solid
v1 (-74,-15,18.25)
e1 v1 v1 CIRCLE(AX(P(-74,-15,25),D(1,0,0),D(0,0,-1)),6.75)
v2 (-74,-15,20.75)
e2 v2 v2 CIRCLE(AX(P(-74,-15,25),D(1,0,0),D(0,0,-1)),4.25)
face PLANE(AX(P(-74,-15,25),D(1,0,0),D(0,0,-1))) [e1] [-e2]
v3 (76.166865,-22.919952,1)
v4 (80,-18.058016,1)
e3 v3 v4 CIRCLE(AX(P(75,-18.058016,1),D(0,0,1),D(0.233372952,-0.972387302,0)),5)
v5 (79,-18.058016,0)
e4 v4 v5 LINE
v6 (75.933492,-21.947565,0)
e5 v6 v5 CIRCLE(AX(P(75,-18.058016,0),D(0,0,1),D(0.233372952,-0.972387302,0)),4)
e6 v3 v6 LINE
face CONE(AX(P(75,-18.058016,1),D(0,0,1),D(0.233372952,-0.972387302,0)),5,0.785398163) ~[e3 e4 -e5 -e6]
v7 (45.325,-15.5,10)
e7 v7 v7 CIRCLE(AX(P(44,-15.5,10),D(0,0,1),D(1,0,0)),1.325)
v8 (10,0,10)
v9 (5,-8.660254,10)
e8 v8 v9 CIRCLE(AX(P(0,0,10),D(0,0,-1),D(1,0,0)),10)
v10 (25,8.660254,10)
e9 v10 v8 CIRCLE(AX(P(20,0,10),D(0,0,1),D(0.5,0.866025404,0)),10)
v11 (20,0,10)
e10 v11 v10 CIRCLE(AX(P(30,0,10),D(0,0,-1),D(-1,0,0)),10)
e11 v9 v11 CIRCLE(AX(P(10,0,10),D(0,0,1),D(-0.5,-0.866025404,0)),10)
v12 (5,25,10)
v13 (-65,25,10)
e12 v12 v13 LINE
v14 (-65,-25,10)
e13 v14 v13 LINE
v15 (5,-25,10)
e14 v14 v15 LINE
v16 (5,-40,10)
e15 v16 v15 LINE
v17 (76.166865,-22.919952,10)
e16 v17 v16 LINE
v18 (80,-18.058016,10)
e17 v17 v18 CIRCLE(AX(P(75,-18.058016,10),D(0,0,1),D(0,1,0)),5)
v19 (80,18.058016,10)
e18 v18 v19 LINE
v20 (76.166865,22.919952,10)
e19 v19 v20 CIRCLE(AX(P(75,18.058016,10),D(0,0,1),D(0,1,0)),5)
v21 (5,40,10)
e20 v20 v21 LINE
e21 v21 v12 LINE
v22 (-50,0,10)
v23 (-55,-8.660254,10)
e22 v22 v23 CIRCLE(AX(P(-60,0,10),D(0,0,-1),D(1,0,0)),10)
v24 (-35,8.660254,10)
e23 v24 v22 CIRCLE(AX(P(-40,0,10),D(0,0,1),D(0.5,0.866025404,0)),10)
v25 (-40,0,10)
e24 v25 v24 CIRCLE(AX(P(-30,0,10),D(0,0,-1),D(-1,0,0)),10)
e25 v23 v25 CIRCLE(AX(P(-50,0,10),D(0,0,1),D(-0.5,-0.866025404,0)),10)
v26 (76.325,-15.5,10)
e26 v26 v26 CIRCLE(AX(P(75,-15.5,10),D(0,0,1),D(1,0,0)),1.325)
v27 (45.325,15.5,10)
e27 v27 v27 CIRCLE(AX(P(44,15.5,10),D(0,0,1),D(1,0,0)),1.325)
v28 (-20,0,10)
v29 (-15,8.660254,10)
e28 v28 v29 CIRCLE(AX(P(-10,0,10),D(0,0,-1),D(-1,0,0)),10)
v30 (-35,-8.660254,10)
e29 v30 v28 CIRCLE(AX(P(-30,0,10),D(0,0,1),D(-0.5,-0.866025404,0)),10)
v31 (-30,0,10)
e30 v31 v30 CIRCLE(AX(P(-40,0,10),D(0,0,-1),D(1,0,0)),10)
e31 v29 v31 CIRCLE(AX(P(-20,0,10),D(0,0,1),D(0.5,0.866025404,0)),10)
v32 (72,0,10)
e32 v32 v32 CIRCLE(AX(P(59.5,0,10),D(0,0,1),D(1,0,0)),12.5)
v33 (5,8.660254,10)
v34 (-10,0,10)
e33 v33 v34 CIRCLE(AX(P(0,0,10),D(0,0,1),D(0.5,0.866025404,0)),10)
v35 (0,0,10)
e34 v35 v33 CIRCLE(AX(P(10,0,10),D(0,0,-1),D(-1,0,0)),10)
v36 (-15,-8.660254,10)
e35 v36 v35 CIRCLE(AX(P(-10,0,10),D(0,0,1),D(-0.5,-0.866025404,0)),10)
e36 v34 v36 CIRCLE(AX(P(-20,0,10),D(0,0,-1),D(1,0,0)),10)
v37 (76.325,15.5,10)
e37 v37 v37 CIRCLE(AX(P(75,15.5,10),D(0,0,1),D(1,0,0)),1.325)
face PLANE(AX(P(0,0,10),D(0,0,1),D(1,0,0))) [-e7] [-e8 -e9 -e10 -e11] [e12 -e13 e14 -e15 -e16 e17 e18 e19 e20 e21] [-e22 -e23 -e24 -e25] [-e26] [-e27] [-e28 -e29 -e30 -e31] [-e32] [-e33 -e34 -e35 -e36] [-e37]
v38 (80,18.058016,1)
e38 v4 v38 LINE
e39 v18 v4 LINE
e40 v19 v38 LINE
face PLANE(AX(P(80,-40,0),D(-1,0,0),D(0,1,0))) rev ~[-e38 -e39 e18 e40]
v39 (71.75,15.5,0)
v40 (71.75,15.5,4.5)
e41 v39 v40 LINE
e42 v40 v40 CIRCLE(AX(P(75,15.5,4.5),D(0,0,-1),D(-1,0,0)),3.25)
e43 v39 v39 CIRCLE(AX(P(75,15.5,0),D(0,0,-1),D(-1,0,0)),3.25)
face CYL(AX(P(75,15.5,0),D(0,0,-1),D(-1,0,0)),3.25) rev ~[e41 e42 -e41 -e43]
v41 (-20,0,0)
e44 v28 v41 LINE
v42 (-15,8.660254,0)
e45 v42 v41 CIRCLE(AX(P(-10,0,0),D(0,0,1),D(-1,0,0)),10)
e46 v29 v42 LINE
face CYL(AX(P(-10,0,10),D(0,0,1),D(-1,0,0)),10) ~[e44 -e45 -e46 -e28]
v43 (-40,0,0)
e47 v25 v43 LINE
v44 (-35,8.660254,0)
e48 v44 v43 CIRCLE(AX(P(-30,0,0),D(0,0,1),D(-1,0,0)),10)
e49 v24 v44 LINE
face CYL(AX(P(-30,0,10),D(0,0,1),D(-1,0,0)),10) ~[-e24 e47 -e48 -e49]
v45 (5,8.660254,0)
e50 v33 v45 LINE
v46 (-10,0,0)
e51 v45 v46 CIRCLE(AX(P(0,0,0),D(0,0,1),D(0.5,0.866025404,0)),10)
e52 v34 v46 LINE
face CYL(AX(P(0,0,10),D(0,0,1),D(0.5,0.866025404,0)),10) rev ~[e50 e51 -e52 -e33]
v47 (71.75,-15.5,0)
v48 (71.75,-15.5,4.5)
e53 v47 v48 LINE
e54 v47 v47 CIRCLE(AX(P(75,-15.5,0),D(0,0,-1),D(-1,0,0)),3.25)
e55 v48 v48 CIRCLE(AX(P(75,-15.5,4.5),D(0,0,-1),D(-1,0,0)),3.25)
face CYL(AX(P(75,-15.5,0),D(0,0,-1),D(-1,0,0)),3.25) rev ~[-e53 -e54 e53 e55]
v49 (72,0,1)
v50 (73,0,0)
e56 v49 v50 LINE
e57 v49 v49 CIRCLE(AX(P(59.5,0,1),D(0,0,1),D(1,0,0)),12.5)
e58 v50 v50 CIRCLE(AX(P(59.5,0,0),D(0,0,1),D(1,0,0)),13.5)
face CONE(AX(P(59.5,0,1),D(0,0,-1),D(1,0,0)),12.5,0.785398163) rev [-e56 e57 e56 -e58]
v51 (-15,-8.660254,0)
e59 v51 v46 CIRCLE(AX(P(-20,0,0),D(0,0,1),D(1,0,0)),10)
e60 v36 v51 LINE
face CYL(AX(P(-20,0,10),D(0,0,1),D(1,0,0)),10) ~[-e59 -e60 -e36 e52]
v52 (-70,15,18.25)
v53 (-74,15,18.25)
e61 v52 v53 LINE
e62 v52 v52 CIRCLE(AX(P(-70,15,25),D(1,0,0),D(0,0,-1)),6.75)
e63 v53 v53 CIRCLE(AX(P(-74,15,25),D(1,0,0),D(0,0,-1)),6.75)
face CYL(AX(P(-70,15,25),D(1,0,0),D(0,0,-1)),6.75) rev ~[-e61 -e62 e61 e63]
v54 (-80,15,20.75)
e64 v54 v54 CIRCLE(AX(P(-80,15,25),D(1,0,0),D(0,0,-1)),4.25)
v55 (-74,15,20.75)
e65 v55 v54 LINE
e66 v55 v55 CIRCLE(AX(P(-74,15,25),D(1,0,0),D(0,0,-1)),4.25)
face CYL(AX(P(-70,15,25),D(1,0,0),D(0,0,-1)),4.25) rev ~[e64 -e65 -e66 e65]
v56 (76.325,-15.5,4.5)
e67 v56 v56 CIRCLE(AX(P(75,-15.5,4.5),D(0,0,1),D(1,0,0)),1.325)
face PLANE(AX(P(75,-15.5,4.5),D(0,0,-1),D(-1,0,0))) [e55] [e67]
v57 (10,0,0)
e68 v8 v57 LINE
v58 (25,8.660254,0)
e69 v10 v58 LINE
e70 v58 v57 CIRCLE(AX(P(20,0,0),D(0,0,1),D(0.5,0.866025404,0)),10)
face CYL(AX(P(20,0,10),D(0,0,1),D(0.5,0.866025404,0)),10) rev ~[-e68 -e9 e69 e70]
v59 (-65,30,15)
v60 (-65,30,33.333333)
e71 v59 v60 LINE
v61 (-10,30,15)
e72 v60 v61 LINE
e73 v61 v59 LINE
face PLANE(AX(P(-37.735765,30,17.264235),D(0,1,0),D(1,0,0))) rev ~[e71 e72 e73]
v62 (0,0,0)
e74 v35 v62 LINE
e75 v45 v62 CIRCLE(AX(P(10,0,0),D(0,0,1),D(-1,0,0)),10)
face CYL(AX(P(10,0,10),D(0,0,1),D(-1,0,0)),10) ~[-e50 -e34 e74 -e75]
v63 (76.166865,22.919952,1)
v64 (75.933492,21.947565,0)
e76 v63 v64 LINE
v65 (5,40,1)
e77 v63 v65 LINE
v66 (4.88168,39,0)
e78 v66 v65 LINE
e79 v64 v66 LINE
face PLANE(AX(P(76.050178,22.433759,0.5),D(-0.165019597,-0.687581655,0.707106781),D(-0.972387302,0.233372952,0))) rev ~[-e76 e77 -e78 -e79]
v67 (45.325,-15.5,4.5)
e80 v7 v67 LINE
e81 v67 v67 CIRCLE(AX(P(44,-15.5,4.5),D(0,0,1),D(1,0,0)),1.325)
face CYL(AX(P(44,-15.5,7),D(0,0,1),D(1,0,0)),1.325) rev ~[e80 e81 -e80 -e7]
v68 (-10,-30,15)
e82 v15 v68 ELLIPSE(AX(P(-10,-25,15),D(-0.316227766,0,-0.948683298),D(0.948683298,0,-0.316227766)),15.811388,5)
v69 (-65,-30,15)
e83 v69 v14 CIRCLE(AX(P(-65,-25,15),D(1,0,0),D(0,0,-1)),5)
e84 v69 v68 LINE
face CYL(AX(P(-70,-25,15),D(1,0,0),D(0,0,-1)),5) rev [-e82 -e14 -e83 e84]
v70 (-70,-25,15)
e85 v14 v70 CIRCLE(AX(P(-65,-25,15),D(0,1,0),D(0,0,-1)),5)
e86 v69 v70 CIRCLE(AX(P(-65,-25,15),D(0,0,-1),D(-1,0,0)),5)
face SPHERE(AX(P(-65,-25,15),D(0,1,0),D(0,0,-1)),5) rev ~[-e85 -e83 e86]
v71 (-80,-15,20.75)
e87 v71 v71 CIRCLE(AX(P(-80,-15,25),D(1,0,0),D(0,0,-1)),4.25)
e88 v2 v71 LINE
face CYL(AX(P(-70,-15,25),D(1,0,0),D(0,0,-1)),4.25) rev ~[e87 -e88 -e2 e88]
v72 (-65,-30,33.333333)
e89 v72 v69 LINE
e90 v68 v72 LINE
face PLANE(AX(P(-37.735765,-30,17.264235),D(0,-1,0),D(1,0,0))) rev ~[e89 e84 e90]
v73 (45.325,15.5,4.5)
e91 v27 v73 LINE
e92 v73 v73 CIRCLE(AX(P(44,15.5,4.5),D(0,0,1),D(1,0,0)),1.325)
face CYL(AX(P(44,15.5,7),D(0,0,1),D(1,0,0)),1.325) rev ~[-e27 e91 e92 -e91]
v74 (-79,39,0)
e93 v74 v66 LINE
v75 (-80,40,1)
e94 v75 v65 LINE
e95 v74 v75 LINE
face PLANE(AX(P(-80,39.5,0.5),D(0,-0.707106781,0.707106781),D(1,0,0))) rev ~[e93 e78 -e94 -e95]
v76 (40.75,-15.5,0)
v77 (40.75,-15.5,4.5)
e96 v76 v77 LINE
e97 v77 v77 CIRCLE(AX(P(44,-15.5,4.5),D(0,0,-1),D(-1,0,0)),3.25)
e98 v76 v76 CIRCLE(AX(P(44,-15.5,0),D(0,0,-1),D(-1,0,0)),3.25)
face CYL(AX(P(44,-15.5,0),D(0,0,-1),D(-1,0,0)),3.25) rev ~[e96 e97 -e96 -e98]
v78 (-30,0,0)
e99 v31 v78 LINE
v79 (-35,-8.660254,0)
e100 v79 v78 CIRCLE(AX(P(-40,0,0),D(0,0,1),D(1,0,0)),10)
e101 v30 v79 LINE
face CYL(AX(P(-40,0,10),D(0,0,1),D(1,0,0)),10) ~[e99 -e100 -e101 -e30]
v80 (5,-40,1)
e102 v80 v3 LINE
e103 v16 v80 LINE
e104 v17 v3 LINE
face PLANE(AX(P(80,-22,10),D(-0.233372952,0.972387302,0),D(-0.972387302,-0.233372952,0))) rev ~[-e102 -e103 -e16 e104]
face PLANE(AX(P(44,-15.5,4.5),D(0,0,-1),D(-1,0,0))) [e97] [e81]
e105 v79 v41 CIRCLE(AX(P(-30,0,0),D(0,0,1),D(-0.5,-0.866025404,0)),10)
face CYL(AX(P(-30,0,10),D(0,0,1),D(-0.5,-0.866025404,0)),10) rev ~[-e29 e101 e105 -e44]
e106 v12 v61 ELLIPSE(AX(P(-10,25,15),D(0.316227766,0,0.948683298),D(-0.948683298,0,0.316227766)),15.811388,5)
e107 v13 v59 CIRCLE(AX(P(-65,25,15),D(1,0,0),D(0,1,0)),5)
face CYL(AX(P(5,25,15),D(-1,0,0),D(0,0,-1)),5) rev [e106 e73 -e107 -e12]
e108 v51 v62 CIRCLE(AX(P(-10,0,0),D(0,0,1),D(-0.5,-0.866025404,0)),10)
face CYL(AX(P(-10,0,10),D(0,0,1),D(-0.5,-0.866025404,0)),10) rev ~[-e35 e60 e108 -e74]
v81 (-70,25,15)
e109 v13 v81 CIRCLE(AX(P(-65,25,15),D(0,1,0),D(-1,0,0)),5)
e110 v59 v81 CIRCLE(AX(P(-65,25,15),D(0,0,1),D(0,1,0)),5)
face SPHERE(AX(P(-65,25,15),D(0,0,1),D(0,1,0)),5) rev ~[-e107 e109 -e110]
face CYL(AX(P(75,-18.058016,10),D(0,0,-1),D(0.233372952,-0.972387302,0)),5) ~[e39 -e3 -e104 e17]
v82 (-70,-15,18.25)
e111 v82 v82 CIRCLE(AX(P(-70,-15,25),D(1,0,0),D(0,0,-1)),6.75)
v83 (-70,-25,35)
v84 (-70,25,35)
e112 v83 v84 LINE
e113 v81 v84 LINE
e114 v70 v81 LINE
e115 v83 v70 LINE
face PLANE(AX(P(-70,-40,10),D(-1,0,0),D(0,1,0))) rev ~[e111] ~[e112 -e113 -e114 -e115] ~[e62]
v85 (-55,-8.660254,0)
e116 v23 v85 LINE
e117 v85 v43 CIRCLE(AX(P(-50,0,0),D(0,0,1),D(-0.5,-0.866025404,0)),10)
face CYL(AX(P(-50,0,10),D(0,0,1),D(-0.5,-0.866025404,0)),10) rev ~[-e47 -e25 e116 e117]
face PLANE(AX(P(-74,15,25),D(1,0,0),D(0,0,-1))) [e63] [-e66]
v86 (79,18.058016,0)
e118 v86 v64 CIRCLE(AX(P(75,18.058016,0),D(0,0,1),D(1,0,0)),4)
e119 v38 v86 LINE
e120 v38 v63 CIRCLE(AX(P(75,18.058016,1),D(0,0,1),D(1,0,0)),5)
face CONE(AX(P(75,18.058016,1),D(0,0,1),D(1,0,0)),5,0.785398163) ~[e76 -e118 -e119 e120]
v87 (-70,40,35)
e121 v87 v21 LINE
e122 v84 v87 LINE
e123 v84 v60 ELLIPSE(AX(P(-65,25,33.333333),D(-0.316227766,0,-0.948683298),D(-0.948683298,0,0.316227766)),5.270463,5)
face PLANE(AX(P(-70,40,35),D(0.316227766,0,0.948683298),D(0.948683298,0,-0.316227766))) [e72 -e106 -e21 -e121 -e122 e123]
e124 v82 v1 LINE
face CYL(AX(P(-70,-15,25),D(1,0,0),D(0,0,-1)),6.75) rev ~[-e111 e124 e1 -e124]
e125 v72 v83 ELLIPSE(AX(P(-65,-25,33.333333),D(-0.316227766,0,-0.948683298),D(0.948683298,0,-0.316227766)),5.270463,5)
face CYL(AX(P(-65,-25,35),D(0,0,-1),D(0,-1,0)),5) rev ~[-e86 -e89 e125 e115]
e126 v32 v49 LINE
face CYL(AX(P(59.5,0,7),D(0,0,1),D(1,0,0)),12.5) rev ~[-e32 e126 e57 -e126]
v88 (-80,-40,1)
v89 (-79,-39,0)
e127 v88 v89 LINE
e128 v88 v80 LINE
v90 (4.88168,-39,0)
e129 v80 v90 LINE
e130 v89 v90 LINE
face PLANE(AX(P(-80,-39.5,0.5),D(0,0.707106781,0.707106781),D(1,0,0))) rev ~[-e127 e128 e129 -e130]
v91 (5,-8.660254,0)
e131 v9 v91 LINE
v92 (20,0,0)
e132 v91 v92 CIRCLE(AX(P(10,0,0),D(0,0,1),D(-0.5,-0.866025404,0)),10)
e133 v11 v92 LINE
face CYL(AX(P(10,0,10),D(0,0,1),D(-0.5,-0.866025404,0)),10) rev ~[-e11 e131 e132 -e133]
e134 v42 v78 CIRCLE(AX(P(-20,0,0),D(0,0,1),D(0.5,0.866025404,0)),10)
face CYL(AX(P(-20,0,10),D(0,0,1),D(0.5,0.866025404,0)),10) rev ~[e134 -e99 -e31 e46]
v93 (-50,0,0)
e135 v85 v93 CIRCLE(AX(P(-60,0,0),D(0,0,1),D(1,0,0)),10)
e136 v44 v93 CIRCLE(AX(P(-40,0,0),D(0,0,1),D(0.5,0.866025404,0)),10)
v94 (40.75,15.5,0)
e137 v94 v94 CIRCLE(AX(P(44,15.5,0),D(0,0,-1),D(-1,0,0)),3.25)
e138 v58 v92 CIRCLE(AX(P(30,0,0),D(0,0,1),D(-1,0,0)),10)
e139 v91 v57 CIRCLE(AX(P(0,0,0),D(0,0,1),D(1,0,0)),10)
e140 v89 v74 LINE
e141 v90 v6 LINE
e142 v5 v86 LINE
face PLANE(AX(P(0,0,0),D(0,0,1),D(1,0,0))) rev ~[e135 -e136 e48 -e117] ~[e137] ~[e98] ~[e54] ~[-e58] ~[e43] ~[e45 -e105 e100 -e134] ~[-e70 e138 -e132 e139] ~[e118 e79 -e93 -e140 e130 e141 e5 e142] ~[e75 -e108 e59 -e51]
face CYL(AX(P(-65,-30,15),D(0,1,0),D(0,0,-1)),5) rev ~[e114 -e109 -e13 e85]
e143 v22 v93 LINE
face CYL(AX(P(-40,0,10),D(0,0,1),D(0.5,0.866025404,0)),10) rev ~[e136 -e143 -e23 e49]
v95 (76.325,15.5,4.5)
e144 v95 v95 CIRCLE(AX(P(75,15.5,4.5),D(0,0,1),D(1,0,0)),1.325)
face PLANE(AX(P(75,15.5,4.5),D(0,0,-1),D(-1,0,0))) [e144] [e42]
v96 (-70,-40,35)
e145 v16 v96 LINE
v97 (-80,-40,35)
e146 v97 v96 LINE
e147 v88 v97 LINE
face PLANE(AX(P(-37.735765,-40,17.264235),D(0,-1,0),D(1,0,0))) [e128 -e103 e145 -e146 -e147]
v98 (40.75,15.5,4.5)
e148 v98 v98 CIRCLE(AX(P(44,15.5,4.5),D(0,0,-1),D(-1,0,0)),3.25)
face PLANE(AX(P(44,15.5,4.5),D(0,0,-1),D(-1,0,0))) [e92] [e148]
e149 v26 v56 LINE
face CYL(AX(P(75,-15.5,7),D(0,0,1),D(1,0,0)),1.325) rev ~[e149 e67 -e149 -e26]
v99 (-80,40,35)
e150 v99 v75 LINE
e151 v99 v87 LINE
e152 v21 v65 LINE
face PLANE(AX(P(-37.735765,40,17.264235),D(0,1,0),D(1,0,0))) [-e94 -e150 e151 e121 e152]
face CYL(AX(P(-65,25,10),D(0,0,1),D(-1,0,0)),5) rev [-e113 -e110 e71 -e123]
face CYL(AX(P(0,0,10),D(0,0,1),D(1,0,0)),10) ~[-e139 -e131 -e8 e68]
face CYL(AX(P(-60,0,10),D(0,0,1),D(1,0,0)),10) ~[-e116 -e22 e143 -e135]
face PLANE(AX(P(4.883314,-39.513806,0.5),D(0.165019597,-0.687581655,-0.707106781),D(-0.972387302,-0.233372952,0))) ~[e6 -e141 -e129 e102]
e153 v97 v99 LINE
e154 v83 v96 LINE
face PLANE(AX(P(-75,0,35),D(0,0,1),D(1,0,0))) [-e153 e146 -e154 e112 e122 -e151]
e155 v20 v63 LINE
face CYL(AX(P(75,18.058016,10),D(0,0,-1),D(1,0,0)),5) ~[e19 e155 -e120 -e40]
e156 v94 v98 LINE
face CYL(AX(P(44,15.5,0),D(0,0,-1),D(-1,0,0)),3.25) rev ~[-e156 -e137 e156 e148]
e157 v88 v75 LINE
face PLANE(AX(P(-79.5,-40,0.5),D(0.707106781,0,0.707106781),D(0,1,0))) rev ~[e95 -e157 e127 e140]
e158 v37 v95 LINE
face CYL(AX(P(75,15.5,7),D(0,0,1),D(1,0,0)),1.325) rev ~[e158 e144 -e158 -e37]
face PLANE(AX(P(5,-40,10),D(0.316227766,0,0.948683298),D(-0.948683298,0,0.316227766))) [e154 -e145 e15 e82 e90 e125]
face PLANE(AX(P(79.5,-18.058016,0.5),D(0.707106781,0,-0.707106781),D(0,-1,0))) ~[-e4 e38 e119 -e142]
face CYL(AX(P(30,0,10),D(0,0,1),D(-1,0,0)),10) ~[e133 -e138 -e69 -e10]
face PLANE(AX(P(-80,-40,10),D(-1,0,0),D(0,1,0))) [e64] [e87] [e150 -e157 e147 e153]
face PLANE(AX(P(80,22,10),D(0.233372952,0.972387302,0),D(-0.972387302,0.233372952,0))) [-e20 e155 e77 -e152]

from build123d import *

# Parameters (mm, degrees)
SKETCH1_W           = 160
SKETCH1_H           = 80
BOSS_EXTRUDE1_DEPTH = 10
SKETCH2_R           = 1.325
SKETCH2_R_2         = 12.5
CUT_EXTRUDE1_DEPTH  = 3
CUT_EXTRUDE2_REACH  = 9
SKETCH4_R           = 1.325
SKETCH4_R_2         = 12.5
SKETCH7_W           = 10
SKETCH7_H           = 80
BOSS_EXTRUDE3_DEPTH = 25
BOSS_EXTRUDE4_DEPTH = 10
BOSS_EXTRUDE5_DEPTH = 10
CUT_EXTRUDE3_REACH  = 12
CUT_EXTRUDE4_DEPTH  = 10
FILLET1_R           = 5
SKETCH12_R          = 3.25
CUT_EXTRUDE5_DEPTH  = 4.5
CUT_EXTRUDE6_REACH  = 12
SKETCH13_R          = 4.25
SKETCH14_R          = 6.75
CUT_EXTRUDE7_DEPTH  = 4
FILLET2_R           = 5
CHAMFER2_SIZE       = 1


with BuildPart() as part:
    # Sketch1 → Boss-Extrude1 (new body)
    with BuildSketch(Plane.XY):
        Rectangle(SKETCH1_W, SKETCH1_H)
    extrude(amount=BOSS_EXTRUDE1_DEPTH)

    # Sketch2 → Cut-Extrude1 (cut)
    with BuildSketch(Plane.XY.offset(10)):
        with Locations((44, 15.5)):
            Circle(SKETCH2_R)
        with Locations((75, 15.5)):
            Circle(SKETCH2_R)
        with Locations((44, -15.5)):
            Circle(SKETCH2_R)
        with Locations((75, -15.5)):
            Circle(SKETCH2_R)
        with Locations((59.5, 0)):
            Circle(SKETCH2_R_2)
    extrude(amount=-CUT_EXTRUDE1_DEPTH, mode=Mode.SUBTRACT)

    # Sketch4 → Cut-Extrude2 (cut, up to next)
    with BuildSketch(Plane.XY.offset(7), mode=Mode.PRIVATE) as cut_extrude2_sk1:
        with Locations((75, -15.5)):
            Circle(SKETCH4_R)
    cut_extrude2_tool1 = extrude(cut_extrude2_sk1.sketch, amount=-CUT_EXTRUDE2_REACH, mode=Mode.PRIVATE) & part.part
    add(cut_extrude2_tool1.solids().sort_by_distance((75, -15.5, 7))[0], mode=Mode.SUBTRACT)
    # Sketch4 → Cut-Extrude2 (cut, up to next)
    with BuildSketch(Plane.XY.offset(7), mode=Mode.PRIVATE) as cut_extrude2_sk2:
        with Locations((44, -15.5)):
            Circle(SKETCH4_R)
    cut_extrude2_tool2 = extrude(cut_extrude2_sk2.sketch, amount=-CUT_EXTRUDE2_REACH, mode=Mode.PRIVATE) & part.part
    add(cut_extrude2_tool2.solids().sort_by_distance((44, -15.5, 7))[0], mode=Mode.SUBTRACT)
    # Sketch4 → Cut-Extrude2 (cut, up to next)
    with BuildSketch(Plane.XY.offset(7), mode=Mode.PRIVATE) as cut_extrude2_sk3:
        with Locations((75, 15.5)):
            Circle(SKETCH4_R)
    cut_extrude2_tool3 = extrude(cut_extrude2_sk3.sketch, amount=-CUT_EXTRUDE2_REACH, mode=Mode.PRIVATE) & part.part
    add(cut_extrude2_tool3.solids().sort_by_distance((75, 15.5, 7))[0], mode=Mode.SUBTRACT)
    # Sketch4 → Cut-Extrude2 (cut, up to next)
    with BuildSketch(Plane.XY.offset(7), mode=Mode.PRIVATE) as cut_extrude2_sk4:
        with Locations((44, 15.5)):
            Circle(SKETCH4_R)
    cut_extrude2_tool4 = extrude(cut_extrude2_sk4.sketch, amount=-CUT_EXTRUDE2_REACH, mode=Mode.PRIVATE) & part.part
    add(cut_extrude2_tool4.solids().sort_by_distance((44, 15.5, 7))[0], mode=Mode.SUBTRACT)
    # Sketch4 → Cut-Extrude2 (cut, up to next)
    with BuildSketch(Plane.XY.offset(7), mode=Mode.PRIVATE) as cut_extrude2_sk5:
        with Locations((59.5, 0)):
            Circle(SKETCH4_R_2)
    cut_extrude2_tool5 = extrude(cut_extrude2_sk5.sketch, amount=-CUT_EXTRUDE2_REACH, mode=Mode.PRIVATE) & part.part
    add(cut_extrude2_tool5.solids().sort_by_distance((59.5, 0, 7))[0], mode=Mode.SUBTRACT)

    # Sketch7 → Boss-Extrude3 (add)
    with BuildSketch(Plane.XY.offset(10)):
        with Locations((-75, 0)):
            Rectangle(SKETCH7_W, SKETCH7_H)
    extrude(amount=BOSS_EXTRUDE3_DEPTH)

    # Sketch8 → Boss-Extrude4 (add)
    with BuildSketch(Plane(origin=(0, 40, 0), x_dir=(1, 0, 0), z_dir=(0, 1, 0))):
        Polygon((-70, -35), (5, -10), (-70, -10), align=None)
    extrude(amount=-BOSS_EXTRUDE4_DEPTH)

    # Sketch9 → Boss-Extrude5 (add)
    with BuildSketch(Plane.XZ.offset(40)):
        Polygon((-70, 35), (-70, 10), (5, 10), align=None)
    extrude(amount=-BOSS_EXTRUDE5_DEPTH)

    # Sketch10 → Cut-Extrude3 (cut, up to next)
    with BuildSketch(Plane.XY.offset(10), mode=Mode.PRIVATE) as cut_extrude3_sk1:
        with BuildLine():
            ThreePointArc((5, -8.660254038), (15, -8.660254038), (20, 0))
            ThreePointArc((20, 0), (21.339745962, 5), (25, 8.660254038))
            ThreePointArc((25, 8.660254038), (15, 8.660254038), (10, 0))
            ThreePointArc((10, 0), (8.660254038, -5), (5, -8.660254038))
        make_face()
    cut_extrude3_tool1 = extrude(cut_extrude3_sk1.sketch, amount=-CUT_EXTRUDE3_REACH, mode=Mode.PRIVATE) & part.part
    add(cut_extrude3_tool1.solids().sort_by_distance((15, 0, 10))[0], mode=Mode.SUBTRACT)
    # Sketch10 → Cut-Extrude3 (cut, up to next)
    with BuildSketch(Plane.XY.offset(10), mode=Mode.PRIVATE) as cut_extrude3_sk2:
        with BuildLine():
            ThreePointArc((0, 0), (1.339745962, 5), (5, 8.660254038))
            ThreePointArc((5, 8.660254038), (-5, 8.660254038), (-10, 0))
            ThreePointArc((-10, 0), (-11.339745962, -5), (-15, -8.660254038))
            ThreePointArc((-15, -8.660254038), (-5, -8.660254038), (0, 0))
        make_face()
    cut_extrude3_tool2 = extrude(cut_extrude3_sk2.sketch, amount=-CUT_EXTRUDE3_REACH, mode=Mode.PRIVATE) & part.part
    add(cut_extrude3_tool2.solids().sort_by_distance((-5, 0, 10))[0], mode=Mode.SUBTRACT)
    # Sketch10 → Cut-Extrude3 (cut, up to next)
    with BuildSketch(Plane.XY.offset(10), mode=Mode.PRIVATE) as cut_extrude3_sk3:
        with BuildLine():
            ThreePointArc((-20, 0), (-18.660254038, 5), (-15, 8.660254038))
            ThreePointArc((-15, 8.660254038), (-25, 8.660254038), (-30, 0))
            ThreePointArc((-30, 0), (-31.339745962, -5), (-35, -8.660254038))
            ThreePointArc((-35, -8.660254038), (-25, -8.660254038), (-20, 0))
        make_face()
    cut_extrude3_tool3 = extrude(cut_extrude3_sk3.sketch, amount=-CUT_EXTRUDE3_REACH, mode=Mode.PRIVATE) & part.part
    add(cut_extrude3_tool3.solids().sort_by_distance((-25, 0, 10))[0], mode=Mode.SUBTRACT)
    # Sketch10 → Cut-Extrude3 (cut, up to next)
    with BuildSketch(Plane.XY.offset(10), mode=Mode.PRIVATE) as cut_extrude3_sk4:
        with BuildLine():
            ThreePointArc((-40, 0), (-38.660254038, 5), (-35, 8.660254038))
            ThreePointArc((-35, 8.660254038), (-45, 8.660254038), (-50, 0))
            ThreePointArc((-50, 0), (-51.339745962, -5), (-55, -8.660254038))
            ThreePointArc((-55, -8.660254038), (-45, -8.660254038), (-40, 0))
        make_face()
    cut_extrude3_tool4 = extrude(cut_extrude3_sk4.sketch, amount=-CUT_EXTRUDE3_REACH, mode=Mode.PRIVATE) & part.part
    add(cut_extrude3_tool4.solids().sort_by_distance((-45, 0, 10))[0], mode=Mode.SUBTRACT)

    # Sketch11 → Cut-Extrude4 (cut)
    with BuildSketch(Plane.XY.offset(10)):
        Polygon((80, 22), (5, 40), (80, 40), align=None)
        Polygon((80, -40), (80, -22), (5, -40), align=None)
    extrude(amount=-CUT_EXTRUDE4_DEPTH, mode=Mode.SUBTRACT)

    # Fillet1
    fillet1_edges = [part.edges().sort_by_distance(p)[0] for p in [
        (-70, 30, 22.5),
        (-32.5, 30, 10),
        (-70, 0, 10),
        (-32.5, -30, 10),
        (-70, -30, 22.5),
    ]]
    fillet(fillet1_edges, radius=FILLET1_R)

    # Sketch12 → Cut-Extrude5 (cut)
    with BuildSketch(Plane(origin=(0, 0, 0), x_dir=(-1, 0, 0), z_dir=(0, 0, -1))):
        with Locations((-75, 15.5)):
            Circle(SKETCH12_R)
        with Locations((-44, 15.5)):
            Circle(SKETCH12_R)
        with Locations((-44, -15.5)):
            Circle(SKETCH12_R)
        with Locations((-75, -15.5)):
            Circle(SKETCH12_R)
    extrude(amount=-CUT_EXTRUDE5_DEPTH, mode=Mode.SUBTRACT)

    # Sketch13 → Cut-Extrude6 (cut, up to next)
    with BuildSketch(Plane(origin=(-70, 0, 0), x_dir=(0, 0, -1), z_dir=(1, 0, 0)), mode=Mode.PRIVATE) as cut_extrude6_sk1:
        with Locations((-25, 15)):
            Circle(SKETCH13_R)
    cut_extrude6_tool1 = extrude(cut_extrude6_sk1.sketch, amount=-CUT_EXTRUDE6_REACH, mode=Mode.PRIVATE) & part.part
    add(cut_extrude6_tool1.solids().sort_by_distance((-70, 15, 25))[0], mode=Mode.SUBTRACT)
    # Sketch13 → Cut-Extrude6 (cut, up to next)
    with BuildSketch(Plane(origin=(-70, 0, 0), x_dir=(0, 0, -1), z_dir=(1, 0, 0)), mode=Mode.PRIVATE) as cut_extrude6_sk2:
        with Locations((-25, -15)):
            Circle(SKETCH13_R)
    cut_extrude6_tool2 = extrude(cut_extrude6_sk2.sketch, amount=-CUT_EXTRUDE6_REACH, mode=Mode.PRIVATE) & part.part
    add(cut_extrude6_tool2.solids().sort_by_distance((-70, -15, 25))[0], mode=Mode.SUBTRACT)

    # Sketch14 → Cut-Extrude7 (cut)
    with BuildSketch(Plane(origin=(-70, 0, 0), x_dir=(0, 0, -1), z_dir=(1, 0, 0))):
        with Locations((-25, 15)):
            Circle(SKETCH14_R)
        with Locations((-25, -15)):
            Circle(SKETCH14_R)
    extrude(amount=-CUT_EXTRUDE7_DEPTH, mode=Mode.SUBTRACT)

    # Fillet2
    fillet2_edges = [part.edges().sort_by_distance(p)[0] for p in [
        (80, 22, 5),
        (80, -22, 5),
    ]]
    fillet(fillet2_edges, radius=FILLET2_R)

    # Chamfer2
    chamfer2_edges = [part.edges().sort_by_distance(p)[0] for p in [
        (-37.5, 40, 0),
        (40.583432381, 31.459976229, 0),
        (40.583432381, -31.459976229, 0),
        (80, 0, 0),
        (78.926469394, 21.153631895, 0),
        (78.926469394, -21.153631895, 0),
        (47, 0, 0),
        (-37.5, -40, 0),
        (-80, 0, 0),
    ]]
    chamfer(chamfer2_edges, length=CHAMFER2_SIZE)


solid = part.part
